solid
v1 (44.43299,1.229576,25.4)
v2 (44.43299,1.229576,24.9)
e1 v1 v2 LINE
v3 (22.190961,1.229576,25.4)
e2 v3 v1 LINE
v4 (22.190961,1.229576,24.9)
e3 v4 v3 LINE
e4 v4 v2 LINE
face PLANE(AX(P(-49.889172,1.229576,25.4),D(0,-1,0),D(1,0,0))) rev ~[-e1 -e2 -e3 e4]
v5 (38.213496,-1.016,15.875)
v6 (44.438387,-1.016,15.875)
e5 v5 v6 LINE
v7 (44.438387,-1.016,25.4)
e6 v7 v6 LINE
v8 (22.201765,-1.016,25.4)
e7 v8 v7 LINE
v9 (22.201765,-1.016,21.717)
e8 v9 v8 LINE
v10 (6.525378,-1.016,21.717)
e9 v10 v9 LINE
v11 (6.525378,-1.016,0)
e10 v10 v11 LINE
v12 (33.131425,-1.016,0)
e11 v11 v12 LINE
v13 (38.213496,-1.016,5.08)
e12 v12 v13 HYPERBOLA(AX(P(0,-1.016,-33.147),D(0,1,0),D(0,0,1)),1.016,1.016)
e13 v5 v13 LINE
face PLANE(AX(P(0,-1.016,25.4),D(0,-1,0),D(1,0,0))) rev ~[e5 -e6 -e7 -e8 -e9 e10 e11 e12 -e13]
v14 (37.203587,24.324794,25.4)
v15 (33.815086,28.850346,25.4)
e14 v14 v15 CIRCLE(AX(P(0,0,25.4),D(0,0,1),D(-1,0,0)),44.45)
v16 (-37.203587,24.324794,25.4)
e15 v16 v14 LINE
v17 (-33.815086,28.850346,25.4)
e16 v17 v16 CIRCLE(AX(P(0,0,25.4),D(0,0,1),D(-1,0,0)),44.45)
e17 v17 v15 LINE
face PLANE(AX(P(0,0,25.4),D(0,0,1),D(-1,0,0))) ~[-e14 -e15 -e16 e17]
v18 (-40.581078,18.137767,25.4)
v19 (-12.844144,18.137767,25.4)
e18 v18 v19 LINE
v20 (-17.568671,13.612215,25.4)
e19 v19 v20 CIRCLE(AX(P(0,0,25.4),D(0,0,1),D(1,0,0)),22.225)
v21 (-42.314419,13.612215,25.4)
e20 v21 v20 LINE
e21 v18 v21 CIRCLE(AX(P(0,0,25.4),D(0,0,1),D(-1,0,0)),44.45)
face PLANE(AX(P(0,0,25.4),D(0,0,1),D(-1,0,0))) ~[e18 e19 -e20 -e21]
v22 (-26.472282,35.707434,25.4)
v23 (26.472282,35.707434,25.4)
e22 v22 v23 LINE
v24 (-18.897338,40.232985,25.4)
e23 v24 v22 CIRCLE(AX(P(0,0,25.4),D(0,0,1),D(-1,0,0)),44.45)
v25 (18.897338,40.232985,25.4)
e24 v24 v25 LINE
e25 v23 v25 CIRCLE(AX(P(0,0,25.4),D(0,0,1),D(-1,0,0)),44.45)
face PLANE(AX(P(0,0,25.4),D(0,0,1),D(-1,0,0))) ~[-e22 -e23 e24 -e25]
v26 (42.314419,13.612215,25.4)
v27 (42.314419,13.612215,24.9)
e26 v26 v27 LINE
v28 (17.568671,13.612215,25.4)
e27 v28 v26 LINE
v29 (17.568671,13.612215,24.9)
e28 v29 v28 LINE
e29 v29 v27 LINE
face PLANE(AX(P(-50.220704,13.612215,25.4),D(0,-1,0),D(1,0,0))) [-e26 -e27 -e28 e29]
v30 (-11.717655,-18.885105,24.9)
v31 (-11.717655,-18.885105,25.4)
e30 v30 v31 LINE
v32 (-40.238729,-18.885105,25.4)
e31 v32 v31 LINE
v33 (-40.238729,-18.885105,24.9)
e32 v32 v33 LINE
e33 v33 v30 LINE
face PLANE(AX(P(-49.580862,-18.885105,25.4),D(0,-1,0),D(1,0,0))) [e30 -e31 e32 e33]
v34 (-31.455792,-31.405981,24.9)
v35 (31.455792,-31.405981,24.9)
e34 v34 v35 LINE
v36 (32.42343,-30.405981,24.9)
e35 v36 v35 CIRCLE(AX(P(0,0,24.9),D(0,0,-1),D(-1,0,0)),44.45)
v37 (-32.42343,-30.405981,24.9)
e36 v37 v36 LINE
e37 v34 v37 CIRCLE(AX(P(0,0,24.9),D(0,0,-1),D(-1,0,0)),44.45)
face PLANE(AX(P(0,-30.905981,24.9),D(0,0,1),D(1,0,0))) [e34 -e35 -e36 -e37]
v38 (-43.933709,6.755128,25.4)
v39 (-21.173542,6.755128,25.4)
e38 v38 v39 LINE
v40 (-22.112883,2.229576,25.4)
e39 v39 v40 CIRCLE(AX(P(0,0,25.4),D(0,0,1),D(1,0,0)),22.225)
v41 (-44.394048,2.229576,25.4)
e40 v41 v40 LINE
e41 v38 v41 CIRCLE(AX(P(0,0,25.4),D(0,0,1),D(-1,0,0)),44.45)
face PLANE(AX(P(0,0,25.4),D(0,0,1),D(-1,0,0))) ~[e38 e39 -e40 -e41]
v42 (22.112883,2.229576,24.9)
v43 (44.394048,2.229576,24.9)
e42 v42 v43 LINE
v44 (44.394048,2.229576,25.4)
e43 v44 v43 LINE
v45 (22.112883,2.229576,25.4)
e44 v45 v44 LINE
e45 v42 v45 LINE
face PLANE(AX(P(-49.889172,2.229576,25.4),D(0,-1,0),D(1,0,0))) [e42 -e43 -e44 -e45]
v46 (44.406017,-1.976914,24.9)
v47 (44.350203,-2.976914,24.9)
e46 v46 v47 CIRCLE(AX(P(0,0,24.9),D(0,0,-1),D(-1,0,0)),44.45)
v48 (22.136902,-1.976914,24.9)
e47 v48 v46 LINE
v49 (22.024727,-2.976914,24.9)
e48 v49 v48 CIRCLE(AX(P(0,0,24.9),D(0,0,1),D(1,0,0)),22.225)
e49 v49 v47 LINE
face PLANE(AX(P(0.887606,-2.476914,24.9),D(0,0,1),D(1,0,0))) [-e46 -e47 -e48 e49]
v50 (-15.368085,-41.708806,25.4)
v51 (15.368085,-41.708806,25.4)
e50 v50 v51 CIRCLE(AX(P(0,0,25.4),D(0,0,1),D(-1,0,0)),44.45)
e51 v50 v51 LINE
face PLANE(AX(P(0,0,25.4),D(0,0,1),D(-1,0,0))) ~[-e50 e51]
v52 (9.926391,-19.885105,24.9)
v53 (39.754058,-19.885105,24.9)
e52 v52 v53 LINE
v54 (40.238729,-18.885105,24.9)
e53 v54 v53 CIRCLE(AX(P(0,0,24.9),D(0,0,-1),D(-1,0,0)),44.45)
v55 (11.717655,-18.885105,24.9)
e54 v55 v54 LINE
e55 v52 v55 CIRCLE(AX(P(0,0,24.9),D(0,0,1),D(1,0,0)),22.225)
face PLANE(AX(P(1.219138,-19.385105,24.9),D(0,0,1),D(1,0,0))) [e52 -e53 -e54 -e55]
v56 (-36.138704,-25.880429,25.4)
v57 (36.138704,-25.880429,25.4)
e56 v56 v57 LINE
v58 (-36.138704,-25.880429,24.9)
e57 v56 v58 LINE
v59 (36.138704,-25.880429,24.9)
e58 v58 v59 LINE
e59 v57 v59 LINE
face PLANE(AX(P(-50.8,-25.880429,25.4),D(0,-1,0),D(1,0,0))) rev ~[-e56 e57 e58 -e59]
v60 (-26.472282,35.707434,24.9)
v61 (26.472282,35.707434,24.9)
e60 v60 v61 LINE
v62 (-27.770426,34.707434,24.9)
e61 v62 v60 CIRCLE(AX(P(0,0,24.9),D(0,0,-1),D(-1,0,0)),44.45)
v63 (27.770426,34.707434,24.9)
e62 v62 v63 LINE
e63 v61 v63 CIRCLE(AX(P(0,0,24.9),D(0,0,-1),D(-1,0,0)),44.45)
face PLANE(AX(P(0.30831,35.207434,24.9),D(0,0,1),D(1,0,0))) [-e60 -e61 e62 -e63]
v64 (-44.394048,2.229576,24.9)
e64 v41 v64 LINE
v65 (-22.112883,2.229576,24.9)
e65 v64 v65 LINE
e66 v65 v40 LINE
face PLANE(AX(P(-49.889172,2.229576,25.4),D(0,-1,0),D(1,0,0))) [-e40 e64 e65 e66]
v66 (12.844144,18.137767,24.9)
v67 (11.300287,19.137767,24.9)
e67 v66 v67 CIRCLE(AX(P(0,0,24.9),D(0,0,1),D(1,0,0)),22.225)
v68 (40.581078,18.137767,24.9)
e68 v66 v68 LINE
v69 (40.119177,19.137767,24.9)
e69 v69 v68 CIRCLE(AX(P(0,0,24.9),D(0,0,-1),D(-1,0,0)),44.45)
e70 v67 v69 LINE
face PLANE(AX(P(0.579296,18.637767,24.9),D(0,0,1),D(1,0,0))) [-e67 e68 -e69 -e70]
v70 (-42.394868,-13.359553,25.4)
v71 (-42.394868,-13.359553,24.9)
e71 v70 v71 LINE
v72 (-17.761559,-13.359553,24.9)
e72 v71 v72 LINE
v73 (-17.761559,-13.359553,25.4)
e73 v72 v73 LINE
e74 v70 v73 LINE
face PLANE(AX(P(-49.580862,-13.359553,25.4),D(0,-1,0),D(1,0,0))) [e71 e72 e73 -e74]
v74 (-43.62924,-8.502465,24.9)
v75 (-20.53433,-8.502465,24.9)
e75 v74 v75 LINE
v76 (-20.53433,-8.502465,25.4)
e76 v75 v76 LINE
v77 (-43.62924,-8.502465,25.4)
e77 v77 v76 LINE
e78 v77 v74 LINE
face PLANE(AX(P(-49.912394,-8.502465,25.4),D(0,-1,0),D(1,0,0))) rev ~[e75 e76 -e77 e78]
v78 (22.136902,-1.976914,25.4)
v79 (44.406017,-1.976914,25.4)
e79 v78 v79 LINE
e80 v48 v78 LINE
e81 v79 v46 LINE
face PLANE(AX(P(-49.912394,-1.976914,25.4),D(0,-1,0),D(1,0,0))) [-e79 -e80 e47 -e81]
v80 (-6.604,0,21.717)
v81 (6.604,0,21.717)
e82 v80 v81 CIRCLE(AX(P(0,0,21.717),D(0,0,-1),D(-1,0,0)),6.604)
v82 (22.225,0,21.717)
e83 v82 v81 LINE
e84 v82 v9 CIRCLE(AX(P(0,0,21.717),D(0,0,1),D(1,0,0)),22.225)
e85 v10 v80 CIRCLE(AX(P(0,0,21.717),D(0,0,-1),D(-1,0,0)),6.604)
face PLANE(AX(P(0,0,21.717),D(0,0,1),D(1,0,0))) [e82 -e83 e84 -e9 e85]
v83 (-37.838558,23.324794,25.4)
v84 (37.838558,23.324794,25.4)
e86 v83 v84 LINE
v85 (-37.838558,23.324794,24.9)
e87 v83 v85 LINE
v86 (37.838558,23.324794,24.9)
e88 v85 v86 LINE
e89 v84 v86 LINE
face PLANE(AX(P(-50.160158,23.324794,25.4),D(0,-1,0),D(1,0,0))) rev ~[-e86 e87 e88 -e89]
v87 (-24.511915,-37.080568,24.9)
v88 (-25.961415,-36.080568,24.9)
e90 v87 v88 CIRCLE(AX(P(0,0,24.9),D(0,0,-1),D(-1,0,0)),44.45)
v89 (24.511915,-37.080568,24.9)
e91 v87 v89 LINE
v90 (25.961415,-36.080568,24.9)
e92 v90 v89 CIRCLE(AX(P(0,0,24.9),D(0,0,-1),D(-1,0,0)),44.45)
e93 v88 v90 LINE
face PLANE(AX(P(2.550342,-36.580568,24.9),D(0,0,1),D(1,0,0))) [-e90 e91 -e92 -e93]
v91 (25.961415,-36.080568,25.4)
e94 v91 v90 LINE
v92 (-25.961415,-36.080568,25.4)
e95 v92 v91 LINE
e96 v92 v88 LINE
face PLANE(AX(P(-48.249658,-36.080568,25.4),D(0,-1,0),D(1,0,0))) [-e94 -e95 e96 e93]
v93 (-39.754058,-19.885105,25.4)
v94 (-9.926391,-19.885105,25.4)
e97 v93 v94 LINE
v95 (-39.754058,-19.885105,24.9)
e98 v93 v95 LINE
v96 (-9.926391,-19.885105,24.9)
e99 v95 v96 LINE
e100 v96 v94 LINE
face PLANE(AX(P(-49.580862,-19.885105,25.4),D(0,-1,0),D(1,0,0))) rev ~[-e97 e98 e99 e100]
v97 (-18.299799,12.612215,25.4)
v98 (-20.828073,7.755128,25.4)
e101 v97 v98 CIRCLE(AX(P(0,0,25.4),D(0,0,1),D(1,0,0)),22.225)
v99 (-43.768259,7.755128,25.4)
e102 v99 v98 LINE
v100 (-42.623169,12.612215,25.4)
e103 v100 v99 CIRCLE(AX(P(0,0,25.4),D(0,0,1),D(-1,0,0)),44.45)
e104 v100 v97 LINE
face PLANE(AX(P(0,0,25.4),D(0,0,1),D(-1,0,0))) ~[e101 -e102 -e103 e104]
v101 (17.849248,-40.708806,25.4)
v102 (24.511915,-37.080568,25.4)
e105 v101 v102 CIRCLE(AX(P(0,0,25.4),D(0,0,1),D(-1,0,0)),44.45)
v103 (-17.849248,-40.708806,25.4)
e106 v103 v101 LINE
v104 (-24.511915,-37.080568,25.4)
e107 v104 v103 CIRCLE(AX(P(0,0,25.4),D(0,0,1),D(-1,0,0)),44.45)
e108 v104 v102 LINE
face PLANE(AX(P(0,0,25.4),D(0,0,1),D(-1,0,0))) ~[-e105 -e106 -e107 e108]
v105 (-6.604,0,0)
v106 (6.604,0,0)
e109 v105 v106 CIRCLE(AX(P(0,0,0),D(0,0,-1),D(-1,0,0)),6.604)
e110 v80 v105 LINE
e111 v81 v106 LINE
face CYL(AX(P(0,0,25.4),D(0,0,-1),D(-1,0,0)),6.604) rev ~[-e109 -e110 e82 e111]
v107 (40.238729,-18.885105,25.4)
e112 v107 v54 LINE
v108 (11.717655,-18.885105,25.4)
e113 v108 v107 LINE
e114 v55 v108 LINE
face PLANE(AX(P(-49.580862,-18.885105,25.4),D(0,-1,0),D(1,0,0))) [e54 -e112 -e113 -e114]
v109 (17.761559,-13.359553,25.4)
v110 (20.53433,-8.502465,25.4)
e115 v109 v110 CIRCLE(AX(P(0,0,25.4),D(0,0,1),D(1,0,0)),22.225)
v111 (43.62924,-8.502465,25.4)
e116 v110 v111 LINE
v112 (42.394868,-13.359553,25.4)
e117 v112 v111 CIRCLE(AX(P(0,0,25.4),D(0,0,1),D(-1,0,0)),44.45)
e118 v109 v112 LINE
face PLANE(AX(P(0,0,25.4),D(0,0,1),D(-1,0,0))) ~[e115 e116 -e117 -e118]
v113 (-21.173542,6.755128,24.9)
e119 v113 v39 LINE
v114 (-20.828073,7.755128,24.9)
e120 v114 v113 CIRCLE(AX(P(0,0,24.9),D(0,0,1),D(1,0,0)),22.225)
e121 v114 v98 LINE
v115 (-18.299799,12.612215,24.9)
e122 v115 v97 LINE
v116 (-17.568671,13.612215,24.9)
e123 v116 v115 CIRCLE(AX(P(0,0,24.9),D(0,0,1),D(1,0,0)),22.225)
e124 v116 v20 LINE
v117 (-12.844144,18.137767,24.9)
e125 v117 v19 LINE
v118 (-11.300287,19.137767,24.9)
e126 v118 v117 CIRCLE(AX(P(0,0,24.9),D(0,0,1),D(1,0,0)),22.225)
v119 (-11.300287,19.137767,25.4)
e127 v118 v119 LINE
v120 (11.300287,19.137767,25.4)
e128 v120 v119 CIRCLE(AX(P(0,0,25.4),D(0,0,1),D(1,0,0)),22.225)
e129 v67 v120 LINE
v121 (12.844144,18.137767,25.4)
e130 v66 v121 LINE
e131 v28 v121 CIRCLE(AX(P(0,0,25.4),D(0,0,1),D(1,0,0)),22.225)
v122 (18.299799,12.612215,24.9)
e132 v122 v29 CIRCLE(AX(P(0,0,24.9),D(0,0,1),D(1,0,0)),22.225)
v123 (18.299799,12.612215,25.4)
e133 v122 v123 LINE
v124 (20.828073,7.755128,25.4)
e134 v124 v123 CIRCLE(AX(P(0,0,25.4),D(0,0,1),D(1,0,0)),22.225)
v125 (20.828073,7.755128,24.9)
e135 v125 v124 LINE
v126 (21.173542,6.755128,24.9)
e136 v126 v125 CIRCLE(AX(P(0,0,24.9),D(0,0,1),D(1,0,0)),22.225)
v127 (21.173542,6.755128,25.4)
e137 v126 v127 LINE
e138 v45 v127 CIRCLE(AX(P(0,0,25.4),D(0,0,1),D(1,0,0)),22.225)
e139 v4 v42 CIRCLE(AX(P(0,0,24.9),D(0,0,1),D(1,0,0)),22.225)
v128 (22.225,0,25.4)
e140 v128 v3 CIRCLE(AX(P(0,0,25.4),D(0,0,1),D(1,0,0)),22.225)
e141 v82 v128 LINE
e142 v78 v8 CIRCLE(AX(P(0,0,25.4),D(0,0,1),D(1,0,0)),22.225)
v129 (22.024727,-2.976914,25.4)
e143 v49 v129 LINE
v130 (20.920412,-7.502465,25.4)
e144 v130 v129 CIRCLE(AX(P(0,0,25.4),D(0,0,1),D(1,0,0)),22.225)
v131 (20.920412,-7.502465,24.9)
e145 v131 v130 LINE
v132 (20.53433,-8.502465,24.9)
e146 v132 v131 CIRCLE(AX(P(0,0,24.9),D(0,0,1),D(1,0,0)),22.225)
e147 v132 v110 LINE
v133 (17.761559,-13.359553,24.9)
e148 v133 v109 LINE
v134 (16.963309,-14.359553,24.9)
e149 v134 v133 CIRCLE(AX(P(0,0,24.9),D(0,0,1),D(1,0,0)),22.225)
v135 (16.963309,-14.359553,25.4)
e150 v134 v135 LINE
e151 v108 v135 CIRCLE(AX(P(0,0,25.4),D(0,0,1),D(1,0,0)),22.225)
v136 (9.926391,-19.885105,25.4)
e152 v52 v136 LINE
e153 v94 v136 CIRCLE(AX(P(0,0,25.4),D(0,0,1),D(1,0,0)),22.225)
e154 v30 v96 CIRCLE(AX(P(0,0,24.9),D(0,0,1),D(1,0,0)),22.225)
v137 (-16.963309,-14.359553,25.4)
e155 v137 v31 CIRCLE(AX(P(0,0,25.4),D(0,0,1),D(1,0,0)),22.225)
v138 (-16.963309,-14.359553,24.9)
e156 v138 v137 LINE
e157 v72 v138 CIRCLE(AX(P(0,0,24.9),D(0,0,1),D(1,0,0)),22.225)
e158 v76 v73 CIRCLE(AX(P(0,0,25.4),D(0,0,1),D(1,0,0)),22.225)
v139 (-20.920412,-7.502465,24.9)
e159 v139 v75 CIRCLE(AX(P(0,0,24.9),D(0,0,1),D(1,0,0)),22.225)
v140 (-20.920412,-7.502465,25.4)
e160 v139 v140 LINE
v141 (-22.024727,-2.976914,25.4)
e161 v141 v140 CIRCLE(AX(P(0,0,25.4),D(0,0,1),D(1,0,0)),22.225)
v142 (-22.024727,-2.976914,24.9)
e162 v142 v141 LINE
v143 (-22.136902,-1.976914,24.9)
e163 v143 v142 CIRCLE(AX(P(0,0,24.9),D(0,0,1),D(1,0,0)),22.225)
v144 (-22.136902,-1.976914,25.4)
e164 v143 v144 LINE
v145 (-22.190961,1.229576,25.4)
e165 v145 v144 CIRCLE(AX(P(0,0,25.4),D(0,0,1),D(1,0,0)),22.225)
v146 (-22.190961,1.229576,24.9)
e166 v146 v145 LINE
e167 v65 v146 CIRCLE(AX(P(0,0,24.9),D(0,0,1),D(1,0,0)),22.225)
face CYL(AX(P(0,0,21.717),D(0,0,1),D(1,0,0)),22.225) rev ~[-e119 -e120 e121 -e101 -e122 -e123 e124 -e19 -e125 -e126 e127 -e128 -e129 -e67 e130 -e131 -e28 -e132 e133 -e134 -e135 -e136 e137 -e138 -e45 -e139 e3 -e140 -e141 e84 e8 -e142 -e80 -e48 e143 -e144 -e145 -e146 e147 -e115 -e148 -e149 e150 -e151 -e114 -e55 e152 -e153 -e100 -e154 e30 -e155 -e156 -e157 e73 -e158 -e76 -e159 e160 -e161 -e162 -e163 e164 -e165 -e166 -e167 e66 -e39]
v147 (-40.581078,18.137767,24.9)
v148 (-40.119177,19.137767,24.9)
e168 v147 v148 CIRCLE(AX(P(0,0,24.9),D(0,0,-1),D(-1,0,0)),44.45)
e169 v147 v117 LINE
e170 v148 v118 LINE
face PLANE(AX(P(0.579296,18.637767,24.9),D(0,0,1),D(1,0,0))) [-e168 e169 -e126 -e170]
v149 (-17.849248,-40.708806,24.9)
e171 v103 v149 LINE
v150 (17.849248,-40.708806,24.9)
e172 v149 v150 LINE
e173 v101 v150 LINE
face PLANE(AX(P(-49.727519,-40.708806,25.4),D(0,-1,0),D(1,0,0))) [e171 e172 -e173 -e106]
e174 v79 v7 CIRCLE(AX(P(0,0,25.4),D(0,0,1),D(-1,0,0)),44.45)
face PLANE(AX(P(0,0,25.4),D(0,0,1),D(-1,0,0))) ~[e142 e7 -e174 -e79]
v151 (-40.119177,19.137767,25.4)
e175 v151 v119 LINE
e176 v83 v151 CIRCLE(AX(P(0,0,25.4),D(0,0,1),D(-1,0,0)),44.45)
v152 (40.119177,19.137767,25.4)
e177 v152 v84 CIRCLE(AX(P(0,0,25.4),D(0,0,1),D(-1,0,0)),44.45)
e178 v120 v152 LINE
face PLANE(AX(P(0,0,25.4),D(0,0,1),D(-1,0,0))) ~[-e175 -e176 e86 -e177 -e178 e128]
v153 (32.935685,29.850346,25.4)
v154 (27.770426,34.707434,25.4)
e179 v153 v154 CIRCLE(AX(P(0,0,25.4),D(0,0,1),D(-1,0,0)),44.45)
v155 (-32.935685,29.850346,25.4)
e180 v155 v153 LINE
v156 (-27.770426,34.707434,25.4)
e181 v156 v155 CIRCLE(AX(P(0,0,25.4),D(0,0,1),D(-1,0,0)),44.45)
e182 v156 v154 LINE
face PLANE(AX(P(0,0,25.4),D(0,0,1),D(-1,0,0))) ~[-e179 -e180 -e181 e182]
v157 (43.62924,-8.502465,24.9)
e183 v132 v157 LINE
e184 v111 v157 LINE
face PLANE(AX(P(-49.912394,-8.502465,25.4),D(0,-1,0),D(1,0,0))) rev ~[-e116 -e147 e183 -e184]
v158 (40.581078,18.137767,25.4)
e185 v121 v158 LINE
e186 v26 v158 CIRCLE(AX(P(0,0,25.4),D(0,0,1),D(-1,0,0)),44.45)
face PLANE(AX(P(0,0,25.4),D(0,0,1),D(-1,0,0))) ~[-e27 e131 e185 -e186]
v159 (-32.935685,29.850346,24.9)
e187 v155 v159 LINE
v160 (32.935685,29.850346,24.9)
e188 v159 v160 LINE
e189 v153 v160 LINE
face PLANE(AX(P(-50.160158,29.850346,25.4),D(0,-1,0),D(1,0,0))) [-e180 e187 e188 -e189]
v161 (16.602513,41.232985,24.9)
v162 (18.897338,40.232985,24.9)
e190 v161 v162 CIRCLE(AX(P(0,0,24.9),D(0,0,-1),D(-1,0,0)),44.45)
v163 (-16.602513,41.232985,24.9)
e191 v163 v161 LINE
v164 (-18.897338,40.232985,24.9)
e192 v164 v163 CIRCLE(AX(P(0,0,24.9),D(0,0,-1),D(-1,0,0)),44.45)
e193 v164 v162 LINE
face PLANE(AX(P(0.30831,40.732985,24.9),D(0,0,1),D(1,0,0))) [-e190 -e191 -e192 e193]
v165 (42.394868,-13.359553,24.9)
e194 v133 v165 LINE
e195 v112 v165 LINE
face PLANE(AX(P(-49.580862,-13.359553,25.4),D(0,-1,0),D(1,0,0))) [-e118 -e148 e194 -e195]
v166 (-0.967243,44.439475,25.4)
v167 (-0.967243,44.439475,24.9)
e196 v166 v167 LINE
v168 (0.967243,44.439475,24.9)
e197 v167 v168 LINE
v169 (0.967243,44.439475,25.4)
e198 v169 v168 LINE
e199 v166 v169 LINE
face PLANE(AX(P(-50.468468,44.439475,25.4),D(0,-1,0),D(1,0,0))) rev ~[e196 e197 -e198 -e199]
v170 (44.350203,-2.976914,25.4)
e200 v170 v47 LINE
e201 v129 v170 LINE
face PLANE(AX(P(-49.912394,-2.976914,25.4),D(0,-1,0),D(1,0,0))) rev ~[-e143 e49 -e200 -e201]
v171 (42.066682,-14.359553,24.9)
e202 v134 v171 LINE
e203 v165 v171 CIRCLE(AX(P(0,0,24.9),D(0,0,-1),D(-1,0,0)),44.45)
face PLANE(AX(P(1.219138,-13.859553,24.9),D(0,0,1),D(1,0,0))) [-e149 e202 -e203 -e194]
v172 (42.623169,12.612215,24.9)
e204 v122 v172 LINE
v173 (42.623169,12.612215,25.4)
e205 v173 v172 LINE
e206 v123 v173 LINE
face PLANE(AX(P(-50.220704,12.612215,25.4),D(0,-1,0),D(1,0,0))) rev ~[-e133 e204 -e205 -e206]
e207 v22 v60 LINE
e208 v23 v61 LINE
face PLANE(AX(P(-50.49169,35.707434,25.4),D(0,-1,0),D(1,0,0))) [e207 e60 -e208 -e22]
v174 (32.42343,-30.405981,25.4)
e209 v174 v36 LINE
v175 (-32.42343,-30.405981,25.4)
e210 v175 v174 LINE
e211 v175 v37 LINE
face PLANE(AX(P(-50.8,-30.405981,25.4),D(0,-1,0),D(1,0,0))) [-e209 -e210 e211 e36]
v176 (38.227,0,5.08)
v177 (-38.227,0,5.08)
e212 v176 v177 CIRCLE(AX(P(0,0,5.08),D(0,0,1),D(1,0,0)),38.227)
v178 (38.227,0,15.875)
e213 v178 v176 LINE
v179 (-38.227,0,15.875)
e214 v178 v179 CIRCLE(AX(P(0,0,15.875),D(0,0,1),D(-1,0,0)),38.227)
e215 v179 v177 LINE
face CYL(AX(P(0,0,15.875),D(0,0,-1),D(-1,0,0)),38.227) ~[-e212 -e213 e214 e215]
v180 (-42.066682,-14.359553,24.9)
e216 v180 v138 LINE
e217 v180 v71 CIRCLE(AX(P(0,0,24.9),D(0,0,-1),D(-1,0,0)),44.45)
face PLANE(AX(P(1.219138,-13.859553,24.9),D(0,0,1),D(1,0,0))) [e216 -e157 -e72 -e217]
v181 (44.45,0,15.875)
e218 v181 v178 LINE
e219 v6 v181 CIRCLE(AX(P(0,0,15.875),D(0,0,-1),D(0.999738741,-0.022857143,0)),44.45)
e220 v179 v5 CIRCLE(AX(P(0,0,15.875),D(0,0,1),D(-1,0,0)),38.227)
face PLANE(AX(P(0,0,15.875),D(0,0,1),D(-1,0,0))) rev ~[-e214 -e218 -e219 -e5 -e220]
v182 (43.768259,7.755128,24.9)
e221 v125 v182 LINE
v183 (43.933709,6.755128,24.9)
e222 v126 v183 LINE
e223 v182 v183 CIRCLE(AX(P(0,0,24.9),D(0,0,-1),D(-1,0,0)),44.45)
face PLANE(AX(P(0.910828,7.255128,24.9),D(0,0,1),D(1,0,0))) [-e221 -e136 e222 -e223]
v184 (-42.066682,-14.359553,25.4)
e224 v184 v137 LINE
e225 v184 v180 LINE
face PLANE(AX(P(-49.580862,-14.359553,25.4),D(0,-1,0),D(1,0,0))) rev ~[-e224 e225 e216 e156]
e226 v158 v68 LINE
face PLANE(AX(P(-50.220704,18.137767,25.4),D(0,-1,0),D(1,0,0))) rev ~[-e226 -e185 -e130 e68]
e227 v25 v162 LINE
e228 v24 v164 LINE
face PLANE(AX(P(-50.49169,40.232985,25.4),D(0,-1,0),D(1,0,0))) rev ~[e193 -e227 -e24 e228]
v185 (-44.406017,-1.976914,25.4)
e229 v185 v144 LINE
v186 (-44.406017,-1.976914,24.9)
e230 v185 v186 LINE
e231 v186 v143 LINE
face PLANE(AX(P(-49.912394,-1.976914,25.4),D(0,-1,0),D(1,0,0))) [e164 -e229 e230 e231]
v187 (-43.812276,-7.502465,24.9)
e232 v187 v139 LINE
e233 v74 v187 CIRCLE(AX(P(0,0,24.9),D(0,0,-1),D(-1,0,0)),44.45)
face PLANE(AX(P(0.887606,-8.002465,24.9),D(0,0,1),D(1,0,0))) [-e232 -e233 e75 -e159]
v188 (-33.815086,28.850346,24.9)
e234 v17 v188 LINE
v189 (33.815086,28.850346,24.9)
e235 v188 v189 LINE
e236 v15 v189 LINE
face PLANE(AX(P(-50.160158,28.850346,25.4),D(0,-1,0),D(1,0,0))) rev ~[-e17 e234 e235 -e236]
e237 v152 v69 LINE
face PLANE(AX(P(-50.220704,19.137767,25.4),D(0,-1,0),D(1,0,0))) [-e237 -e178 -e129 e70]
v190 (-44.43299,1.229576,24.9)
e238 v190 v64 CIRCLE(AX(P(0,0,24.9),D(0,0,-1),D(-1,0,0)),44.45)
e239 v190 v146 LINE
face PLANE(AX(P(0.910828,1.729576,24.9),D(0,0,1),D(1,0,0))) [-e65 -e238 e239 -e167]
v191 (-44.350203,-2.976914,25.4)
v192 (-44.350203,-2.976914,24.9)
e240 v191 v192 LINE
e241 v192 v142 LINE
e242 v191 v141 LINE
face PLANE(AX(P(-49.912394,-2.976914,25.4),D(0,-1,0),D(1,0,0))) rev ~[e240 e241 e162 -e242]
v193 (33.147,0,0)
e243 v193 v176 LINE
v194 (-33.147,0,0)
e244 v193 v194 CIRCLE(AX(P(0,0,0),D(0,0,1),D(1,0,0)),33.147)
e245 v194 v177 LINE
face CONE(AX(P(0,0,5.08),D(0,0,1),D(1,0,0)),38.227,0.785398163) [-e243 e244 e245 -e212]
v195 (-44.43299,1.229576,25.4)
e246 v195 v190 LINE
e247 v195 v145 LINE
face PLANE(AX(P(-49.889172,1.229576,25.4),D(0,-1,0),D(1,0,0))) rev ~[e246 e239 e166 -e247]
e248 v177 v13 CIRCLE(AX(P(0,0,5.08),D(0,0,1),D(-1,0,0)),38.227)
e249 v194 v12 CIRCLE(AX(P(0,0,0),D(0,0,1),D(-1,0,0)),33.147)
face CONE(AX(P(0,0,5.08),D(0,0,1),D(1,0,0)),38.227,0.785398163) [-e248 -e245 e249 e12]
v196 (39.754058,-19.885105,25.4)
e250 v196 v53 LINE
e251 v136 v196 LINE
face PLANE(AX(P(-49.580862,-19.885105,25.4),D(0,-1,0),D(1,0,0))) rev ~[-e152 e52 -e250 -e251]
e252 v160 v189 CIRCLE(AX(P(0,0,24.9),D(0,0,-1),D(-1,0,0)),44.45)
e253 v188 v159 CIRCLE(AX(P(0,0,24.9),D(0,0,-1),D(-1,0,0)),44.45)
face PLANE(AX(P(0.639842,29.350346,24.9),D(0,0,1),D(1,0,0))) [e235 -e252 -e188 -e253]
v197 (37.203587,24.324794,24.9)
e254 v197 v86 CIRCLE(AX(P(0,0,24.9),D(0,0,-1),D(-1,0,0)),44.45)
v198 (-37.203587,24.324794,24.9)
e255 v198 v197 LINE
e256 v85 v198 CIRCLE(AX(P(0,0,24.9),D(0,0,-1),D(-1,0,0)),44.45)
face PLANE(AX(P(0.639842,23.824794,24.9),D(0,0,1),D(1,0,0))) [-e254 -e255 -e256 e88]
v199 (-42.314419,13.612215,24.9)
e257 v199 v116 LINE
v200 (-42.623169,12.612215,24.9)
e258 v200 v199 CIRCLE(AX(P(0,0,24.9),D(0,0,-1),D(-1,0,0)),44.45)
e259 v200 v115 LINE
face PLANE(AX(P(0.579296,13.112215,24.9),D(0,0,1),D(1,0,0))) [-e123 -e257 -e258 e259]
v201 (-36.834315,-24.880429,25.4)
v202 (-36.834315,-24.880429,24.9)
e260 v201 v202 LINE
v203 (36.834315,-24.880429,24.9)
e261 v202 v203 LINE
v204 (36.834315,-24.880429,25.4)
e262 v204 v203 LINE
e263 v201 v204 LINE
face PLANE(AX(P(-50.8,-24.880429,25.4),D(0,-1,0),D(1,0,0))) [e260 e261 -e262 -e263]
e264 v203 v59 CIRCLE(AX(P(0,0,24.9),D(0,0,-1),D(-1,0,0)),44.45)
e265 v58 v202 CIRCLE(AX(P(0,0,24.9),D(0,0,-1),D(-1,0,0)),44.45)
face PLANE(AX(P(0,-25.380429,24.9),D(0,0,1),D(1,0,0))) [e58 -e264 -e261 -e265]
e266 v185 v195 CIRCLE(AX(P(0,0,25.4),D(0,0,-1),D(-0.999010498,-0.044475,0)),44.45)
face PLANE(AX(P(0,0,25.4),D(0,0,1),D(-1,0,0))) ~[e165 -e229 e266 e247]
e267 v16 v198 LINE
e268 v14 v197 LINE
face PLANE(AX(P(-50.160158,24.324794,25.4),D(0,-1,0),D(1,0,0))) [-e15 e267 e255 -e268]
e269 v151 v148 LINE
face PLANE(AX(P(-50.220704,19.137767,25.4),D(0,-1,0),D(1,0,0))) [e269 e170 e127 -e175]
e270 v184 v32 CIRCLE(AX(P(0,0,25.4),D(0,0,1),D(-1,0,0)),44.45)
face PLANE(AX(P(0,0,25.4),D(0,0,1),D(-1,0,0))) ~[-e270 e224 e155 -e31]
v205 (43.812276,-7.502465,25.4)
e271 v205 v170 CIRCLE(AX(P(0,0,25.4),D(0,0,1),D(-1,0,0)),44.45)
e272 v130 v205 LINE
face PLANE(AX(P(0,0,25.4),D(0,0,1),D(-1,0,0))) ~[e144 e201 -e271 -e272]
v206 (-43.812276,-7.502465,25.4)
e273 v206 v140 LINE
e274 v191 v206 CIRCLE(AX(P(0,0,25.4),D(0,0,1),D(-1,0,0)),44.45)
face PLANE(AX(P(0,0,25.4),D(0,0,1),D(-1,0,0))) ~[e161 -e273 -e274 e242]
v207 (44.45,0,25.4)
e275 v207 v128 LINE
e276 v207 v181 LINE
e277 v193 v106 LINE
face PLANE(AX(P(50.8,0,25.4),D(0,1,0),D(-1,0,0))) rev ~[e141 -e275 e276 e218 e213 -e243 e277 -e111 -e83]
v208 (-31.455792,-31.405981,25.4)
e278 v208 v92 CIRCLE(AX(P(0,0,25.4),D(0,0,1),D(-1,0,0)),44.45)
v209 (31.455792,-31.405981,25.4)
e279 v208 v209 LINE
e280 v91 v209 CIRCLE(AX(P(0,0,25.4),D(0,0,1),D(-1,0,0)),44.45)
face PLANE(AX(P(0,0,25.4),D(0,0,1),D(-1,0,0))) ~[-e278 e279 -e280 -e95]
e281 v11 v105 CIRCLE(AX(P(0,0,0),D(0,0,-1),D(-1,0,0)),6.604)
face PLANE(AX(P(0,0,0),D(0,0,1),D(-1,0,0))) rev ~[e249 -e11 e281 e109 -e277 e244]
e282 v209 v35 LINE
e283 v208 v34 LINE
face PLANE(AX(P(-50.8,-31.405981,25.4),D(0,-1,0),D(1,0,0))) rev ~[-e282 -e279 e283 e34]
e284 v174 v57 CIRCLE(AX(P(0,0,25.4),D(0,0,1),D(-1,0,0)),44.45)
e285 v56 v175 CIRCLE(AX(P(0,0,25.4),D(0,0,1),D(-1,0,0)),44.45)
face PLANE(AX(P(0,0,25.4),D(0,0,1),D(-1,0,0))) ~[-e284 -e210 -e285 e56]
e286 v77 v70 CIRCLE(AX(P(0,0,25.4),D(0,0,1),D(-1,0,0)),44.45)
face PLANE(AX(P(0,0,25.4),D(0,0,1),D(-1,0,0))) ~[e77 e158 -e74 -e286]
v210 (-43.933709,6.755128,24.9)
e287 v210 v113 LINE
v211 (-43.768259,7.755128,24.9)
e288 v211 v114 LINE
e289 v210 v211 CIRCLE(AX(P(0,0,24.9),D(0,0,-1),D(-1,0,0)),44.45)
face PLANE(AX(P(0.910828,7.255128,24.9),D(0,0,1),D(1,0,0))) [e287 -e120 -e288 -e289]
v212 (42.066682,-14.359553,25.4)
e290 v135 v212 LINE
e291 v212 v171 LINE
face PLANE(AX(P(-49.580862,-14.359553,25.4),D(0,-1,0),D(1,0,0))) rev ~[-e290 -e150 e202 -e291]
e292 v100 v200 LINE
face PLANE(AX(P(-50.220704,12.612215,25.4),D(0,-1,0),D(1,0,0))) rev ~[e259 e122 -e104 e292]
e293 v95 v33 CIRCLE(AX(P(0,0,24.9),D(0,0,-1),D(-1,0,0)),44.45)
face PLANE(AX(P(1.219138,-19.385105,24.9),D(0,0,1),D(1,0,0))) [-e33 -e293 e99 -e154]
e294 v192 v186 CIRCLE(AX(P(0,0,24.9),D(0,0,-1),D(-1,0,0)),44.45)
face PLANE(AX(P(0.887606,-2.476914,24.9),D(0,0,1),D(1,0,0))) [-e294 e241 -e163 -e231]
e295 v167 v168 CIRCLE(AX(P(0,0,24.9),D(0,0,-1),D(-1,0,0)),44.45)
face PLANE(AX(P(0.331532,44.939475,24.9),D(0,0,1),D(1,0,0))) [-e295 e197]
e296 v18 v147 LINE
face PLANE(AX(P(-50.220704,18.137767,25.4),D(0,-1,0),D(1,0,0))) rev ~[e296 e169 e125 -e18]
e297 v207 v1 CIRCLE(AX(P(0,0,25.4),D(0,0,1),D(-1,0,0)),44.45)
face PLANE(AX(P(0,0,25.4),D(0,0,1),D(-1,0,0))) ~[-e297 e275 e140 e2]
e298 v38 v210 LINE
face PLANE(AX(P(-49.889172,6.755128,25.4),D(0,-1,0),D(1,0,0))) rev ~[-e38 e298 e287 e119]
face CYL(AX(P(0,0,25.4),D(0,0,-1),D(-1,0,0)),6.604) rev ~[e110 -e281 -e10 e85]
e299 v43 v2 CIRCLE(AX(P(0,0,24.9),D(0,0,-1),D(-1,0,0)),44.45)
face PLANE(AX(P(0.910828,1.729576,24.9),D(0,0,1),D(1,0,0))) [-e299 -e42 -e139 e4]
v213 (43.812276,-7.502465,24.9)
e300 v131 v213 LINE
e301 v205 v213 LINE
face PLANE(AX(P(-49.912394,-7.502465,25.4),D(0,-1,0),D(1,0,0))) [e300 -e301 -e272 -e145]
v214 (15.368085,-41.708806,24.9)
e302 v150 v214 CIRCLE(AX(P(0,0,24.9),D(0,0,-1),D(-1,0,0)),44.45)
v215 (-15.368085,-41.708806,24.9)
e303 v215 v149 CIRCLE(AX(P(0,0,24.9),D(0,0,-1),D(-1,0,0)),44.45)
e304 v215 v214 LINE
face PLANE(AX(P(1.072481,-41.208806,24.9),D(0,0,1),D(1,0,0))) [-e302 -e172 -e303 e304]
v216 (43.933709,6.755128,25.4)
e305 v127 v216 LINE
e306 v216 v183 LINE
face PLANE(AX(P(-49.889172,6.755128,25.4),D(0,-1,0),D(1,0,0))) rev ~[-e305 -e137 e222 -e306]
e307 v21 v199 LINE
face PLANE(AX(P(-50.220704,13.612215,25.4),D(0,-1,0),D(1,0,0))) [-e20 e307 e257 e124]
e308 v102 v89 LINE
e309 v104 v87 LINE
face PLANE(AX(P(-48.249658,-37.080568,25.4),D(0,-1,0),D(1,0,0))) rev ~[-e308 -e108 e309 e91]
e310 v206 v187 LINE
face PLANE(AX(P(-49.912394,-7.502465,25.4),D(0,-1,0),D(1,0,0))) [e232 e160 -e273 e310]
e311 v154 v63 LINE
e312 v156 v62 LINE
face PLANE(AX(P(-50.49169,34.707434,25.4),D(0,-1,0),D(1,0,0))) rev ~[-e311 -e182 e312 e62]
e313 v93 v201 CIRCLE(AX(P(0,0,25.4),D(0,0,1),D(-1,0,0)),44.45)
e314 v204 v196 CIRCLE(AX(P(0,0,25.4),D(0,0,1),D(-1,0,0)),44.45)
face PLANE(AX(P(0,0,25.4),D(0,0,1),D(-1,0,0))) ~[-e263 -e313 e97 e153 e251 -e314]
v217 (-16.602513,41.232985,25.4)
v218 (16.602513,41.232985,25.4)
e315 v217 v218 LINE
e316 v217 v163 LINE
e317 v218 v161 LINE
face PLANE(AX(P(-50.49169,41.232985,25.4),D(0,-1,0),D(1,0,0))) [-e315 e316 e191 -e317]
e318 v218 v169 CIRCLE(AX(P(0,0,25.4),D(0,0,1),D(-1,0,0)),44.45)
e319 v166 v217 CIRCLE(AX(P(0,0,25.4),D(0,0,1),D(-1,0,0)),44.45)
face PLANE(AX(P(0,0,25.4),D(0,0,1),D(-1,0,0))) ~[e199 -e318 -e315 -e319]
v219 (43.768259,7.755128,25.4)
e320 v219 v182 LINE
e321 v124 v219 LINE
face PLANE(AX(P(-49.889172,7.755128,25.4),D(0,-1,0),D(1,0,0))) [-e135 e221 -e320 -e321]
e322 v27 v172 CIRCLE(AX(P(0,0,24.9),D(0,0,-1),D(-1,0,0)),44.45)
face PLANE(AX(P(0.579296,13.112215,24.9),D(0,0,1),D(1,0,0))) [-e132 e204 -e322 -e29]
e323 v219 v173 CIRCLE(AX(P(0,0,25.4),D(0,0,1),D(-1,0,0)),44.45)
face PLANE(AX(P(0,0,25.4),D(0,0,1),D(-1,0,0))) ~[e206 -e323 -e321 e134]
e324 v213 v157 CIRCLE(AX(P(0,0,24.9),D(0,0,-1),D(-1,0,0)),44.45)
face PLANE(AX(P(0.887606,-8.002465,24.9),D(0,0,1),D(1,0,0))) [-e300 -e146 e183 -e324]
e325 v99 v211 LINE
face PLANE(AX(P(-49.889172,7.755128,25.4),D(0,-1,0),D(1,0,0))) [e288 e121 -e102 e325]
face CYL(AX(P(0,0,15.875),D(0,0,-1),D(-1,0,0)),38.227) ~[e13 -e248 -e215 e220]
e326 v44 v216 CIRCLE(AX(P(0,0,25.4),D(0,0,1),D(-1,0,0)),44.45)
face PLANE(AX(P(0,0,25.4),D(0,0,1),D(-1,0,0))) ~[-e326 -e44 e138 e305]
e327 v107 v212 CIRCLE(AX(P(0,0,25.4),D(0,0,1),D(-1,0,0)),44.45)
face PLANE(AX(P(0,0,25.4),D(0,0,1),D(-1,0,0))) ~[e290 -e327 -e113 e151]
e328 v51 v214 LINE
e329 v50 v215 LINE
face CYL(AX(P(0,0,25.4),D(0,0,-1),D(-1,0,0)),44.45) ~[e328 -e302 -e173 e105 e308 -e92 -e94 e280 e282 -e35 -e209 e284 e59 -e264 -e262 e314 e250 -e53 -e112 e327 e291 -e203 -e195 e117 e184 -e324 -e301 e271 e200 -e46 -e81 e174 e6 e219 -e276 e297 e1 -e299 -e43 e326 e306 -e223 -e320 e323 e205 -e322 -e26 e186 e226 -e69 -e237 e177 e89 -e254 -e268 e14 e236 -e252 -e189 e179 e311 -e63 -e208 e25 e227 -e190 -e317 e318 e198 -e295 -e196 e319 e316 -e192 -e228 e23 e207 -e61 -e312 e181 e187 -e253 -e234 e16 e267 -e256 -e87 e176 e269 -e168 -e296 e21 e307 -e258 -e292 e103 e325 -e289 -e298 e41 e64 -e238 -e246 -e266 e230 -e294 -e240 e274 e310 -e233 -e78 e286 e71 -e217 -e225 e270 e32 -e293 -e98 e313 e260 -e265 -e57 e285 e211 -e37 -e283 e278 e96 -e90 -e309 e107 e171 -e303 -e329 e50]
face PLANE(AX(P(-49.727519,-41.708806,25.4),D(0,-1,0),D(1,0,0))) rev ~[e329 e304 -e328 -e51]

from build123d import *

# Parameters (mm, degrees)
F3_D           = 13.208
F3_CBORE_D     = 44.45
F3_CBORE_DEPTH = 3.683
F2_W           = 44.336462139
F2_H           = 1.016
F4_DEPTH       = 38.1
F5_SIZE        = 5.08
F6_W           = 101.6
F6_H           = 1
F7_DEPTH       = 0.5


with BuildPart() as f1:
    # F0 (on Front) → F1 (revolve)
    with BuildSketch(Plane.XZ):
        Polygon((-38.227, 0), (0, 0), (0, 25.4), (-44.45, 25.4), (-44.45, 15.875), (-38.227, 15.875), align=None)
    revolve(axis=Axis((0, 0, 19.0648827702), (0, 0, 1)))

    # F3 (through all)
    with Locations(Plane.XY.offset(25.4)):
        with Locations((0, 0)):
            CounterBoreHole(F3_D / 2, F3_CBORE_D / 2, F3_CBORE_DEPTH)

    # F2 (on face) → F4 (cut)
    with BuildSketch(Plane.XY.offset(25.4)):
        with Locations((22.1682310695, -0.508)):
            Rectangle(F2_W, F2_H)
        with BuildLine():
            Line((44.336462139, 0), (44.336462139, -1.016))
            Line((44.336462139, -1.016), (44.4383870544, -1.016))
            ThreePointArc((44.4383870544, -1.016), (44.4470966688, -0.5080331831), (44.45, 0))
            Line((44.45, 0), (44.336462139, 0))
        make_face()
        with BuildLine():
            ThreePointArc((44.45, 0), (44.4470966688, -0.5080331831), (44.4383870544, -1.016))
            Line((44.4383870544, -1.016), (50.8, -1.016))
            Line((50.8, -1.016), (50.8, 0))
            Line((50.8, 0), (44.45, 0))
        make_face()
    extrude(amount=-F4_DEPTH, mode=Mode.SUBTRACT)

    # F5
    f5_edges = [f1.edges().sort_by_distance(p)[0] for p in [
        (-0.508045, -38.223624, 0),
    ]]
    chamfer(f5_edges, length=F5_SIZE)

    # F6 (on face) → F7 (cut)
    with BuildSketch(Plane.XY.offset(25.4)):
        with Locations((0, -25.3804288805)):
            Rectangle(F6_W, F6_H)
        with Locations((0, -30.9059806168)):
            Rectangle(F6_W, F6_H)
        with Locations((2.5503417128, -36.5805682886)):
            Rectangle(F6_W, F6_H)
        with Locations((0.3315322974, 44.9394750249)):
            Rectangle(F6_W, F6_H)
        with Locations((0.3083095216, 40.7329852533)):
            Rectangle(F6_W, F6_H)
        with Locations((0.3083095216, 35.207433517)):
            Rectangle(F6_W, F6_H)
        with Locations((0.6398418191, 29.3503458452)):
            Rectangle(F6_W, F6_H)
        with Locations((0.6398418191, 23.8247941089)):
            Rectangle(F6_W, F6_H)
        with Locations((0.5792960728, 18.6377671853)):
            Rectangle(F6_W, F6_H)
        with Locations((0.5792960728, 13.112215449)):
            Rectangle(F6_W, F6_H)
        with Locations((0.9108283703, 7.2551277772)):
            Rectangle(F6_W, F6_H)
        with Locations((0.9108283703, 1.7295760409)):
            Rectangle(F6_W, F6_H)
        with Locations((0.8876055945, -2.4769137307)):
            Rectangle(F6_W, F6_H)
        with Locations((0.8876055945, -8.0024654671)):
            Rectangle(F6_W, F6_H)
        with Locations((1.2191378919, -13.8595531388)):
            Rectangle(F6_W, F6_H)
        with Locations((1.2191378919, -19.3851048752)):
            Rectangle(F6_W, F6_H)
        with Locations((1.0724808089, -41.2088056254)):
            Rectangle(F6_W, F6_H)
    extrude(amount=-F7_DEPTH, mode=Mode.SUBTRACT)


solid = f1.part
